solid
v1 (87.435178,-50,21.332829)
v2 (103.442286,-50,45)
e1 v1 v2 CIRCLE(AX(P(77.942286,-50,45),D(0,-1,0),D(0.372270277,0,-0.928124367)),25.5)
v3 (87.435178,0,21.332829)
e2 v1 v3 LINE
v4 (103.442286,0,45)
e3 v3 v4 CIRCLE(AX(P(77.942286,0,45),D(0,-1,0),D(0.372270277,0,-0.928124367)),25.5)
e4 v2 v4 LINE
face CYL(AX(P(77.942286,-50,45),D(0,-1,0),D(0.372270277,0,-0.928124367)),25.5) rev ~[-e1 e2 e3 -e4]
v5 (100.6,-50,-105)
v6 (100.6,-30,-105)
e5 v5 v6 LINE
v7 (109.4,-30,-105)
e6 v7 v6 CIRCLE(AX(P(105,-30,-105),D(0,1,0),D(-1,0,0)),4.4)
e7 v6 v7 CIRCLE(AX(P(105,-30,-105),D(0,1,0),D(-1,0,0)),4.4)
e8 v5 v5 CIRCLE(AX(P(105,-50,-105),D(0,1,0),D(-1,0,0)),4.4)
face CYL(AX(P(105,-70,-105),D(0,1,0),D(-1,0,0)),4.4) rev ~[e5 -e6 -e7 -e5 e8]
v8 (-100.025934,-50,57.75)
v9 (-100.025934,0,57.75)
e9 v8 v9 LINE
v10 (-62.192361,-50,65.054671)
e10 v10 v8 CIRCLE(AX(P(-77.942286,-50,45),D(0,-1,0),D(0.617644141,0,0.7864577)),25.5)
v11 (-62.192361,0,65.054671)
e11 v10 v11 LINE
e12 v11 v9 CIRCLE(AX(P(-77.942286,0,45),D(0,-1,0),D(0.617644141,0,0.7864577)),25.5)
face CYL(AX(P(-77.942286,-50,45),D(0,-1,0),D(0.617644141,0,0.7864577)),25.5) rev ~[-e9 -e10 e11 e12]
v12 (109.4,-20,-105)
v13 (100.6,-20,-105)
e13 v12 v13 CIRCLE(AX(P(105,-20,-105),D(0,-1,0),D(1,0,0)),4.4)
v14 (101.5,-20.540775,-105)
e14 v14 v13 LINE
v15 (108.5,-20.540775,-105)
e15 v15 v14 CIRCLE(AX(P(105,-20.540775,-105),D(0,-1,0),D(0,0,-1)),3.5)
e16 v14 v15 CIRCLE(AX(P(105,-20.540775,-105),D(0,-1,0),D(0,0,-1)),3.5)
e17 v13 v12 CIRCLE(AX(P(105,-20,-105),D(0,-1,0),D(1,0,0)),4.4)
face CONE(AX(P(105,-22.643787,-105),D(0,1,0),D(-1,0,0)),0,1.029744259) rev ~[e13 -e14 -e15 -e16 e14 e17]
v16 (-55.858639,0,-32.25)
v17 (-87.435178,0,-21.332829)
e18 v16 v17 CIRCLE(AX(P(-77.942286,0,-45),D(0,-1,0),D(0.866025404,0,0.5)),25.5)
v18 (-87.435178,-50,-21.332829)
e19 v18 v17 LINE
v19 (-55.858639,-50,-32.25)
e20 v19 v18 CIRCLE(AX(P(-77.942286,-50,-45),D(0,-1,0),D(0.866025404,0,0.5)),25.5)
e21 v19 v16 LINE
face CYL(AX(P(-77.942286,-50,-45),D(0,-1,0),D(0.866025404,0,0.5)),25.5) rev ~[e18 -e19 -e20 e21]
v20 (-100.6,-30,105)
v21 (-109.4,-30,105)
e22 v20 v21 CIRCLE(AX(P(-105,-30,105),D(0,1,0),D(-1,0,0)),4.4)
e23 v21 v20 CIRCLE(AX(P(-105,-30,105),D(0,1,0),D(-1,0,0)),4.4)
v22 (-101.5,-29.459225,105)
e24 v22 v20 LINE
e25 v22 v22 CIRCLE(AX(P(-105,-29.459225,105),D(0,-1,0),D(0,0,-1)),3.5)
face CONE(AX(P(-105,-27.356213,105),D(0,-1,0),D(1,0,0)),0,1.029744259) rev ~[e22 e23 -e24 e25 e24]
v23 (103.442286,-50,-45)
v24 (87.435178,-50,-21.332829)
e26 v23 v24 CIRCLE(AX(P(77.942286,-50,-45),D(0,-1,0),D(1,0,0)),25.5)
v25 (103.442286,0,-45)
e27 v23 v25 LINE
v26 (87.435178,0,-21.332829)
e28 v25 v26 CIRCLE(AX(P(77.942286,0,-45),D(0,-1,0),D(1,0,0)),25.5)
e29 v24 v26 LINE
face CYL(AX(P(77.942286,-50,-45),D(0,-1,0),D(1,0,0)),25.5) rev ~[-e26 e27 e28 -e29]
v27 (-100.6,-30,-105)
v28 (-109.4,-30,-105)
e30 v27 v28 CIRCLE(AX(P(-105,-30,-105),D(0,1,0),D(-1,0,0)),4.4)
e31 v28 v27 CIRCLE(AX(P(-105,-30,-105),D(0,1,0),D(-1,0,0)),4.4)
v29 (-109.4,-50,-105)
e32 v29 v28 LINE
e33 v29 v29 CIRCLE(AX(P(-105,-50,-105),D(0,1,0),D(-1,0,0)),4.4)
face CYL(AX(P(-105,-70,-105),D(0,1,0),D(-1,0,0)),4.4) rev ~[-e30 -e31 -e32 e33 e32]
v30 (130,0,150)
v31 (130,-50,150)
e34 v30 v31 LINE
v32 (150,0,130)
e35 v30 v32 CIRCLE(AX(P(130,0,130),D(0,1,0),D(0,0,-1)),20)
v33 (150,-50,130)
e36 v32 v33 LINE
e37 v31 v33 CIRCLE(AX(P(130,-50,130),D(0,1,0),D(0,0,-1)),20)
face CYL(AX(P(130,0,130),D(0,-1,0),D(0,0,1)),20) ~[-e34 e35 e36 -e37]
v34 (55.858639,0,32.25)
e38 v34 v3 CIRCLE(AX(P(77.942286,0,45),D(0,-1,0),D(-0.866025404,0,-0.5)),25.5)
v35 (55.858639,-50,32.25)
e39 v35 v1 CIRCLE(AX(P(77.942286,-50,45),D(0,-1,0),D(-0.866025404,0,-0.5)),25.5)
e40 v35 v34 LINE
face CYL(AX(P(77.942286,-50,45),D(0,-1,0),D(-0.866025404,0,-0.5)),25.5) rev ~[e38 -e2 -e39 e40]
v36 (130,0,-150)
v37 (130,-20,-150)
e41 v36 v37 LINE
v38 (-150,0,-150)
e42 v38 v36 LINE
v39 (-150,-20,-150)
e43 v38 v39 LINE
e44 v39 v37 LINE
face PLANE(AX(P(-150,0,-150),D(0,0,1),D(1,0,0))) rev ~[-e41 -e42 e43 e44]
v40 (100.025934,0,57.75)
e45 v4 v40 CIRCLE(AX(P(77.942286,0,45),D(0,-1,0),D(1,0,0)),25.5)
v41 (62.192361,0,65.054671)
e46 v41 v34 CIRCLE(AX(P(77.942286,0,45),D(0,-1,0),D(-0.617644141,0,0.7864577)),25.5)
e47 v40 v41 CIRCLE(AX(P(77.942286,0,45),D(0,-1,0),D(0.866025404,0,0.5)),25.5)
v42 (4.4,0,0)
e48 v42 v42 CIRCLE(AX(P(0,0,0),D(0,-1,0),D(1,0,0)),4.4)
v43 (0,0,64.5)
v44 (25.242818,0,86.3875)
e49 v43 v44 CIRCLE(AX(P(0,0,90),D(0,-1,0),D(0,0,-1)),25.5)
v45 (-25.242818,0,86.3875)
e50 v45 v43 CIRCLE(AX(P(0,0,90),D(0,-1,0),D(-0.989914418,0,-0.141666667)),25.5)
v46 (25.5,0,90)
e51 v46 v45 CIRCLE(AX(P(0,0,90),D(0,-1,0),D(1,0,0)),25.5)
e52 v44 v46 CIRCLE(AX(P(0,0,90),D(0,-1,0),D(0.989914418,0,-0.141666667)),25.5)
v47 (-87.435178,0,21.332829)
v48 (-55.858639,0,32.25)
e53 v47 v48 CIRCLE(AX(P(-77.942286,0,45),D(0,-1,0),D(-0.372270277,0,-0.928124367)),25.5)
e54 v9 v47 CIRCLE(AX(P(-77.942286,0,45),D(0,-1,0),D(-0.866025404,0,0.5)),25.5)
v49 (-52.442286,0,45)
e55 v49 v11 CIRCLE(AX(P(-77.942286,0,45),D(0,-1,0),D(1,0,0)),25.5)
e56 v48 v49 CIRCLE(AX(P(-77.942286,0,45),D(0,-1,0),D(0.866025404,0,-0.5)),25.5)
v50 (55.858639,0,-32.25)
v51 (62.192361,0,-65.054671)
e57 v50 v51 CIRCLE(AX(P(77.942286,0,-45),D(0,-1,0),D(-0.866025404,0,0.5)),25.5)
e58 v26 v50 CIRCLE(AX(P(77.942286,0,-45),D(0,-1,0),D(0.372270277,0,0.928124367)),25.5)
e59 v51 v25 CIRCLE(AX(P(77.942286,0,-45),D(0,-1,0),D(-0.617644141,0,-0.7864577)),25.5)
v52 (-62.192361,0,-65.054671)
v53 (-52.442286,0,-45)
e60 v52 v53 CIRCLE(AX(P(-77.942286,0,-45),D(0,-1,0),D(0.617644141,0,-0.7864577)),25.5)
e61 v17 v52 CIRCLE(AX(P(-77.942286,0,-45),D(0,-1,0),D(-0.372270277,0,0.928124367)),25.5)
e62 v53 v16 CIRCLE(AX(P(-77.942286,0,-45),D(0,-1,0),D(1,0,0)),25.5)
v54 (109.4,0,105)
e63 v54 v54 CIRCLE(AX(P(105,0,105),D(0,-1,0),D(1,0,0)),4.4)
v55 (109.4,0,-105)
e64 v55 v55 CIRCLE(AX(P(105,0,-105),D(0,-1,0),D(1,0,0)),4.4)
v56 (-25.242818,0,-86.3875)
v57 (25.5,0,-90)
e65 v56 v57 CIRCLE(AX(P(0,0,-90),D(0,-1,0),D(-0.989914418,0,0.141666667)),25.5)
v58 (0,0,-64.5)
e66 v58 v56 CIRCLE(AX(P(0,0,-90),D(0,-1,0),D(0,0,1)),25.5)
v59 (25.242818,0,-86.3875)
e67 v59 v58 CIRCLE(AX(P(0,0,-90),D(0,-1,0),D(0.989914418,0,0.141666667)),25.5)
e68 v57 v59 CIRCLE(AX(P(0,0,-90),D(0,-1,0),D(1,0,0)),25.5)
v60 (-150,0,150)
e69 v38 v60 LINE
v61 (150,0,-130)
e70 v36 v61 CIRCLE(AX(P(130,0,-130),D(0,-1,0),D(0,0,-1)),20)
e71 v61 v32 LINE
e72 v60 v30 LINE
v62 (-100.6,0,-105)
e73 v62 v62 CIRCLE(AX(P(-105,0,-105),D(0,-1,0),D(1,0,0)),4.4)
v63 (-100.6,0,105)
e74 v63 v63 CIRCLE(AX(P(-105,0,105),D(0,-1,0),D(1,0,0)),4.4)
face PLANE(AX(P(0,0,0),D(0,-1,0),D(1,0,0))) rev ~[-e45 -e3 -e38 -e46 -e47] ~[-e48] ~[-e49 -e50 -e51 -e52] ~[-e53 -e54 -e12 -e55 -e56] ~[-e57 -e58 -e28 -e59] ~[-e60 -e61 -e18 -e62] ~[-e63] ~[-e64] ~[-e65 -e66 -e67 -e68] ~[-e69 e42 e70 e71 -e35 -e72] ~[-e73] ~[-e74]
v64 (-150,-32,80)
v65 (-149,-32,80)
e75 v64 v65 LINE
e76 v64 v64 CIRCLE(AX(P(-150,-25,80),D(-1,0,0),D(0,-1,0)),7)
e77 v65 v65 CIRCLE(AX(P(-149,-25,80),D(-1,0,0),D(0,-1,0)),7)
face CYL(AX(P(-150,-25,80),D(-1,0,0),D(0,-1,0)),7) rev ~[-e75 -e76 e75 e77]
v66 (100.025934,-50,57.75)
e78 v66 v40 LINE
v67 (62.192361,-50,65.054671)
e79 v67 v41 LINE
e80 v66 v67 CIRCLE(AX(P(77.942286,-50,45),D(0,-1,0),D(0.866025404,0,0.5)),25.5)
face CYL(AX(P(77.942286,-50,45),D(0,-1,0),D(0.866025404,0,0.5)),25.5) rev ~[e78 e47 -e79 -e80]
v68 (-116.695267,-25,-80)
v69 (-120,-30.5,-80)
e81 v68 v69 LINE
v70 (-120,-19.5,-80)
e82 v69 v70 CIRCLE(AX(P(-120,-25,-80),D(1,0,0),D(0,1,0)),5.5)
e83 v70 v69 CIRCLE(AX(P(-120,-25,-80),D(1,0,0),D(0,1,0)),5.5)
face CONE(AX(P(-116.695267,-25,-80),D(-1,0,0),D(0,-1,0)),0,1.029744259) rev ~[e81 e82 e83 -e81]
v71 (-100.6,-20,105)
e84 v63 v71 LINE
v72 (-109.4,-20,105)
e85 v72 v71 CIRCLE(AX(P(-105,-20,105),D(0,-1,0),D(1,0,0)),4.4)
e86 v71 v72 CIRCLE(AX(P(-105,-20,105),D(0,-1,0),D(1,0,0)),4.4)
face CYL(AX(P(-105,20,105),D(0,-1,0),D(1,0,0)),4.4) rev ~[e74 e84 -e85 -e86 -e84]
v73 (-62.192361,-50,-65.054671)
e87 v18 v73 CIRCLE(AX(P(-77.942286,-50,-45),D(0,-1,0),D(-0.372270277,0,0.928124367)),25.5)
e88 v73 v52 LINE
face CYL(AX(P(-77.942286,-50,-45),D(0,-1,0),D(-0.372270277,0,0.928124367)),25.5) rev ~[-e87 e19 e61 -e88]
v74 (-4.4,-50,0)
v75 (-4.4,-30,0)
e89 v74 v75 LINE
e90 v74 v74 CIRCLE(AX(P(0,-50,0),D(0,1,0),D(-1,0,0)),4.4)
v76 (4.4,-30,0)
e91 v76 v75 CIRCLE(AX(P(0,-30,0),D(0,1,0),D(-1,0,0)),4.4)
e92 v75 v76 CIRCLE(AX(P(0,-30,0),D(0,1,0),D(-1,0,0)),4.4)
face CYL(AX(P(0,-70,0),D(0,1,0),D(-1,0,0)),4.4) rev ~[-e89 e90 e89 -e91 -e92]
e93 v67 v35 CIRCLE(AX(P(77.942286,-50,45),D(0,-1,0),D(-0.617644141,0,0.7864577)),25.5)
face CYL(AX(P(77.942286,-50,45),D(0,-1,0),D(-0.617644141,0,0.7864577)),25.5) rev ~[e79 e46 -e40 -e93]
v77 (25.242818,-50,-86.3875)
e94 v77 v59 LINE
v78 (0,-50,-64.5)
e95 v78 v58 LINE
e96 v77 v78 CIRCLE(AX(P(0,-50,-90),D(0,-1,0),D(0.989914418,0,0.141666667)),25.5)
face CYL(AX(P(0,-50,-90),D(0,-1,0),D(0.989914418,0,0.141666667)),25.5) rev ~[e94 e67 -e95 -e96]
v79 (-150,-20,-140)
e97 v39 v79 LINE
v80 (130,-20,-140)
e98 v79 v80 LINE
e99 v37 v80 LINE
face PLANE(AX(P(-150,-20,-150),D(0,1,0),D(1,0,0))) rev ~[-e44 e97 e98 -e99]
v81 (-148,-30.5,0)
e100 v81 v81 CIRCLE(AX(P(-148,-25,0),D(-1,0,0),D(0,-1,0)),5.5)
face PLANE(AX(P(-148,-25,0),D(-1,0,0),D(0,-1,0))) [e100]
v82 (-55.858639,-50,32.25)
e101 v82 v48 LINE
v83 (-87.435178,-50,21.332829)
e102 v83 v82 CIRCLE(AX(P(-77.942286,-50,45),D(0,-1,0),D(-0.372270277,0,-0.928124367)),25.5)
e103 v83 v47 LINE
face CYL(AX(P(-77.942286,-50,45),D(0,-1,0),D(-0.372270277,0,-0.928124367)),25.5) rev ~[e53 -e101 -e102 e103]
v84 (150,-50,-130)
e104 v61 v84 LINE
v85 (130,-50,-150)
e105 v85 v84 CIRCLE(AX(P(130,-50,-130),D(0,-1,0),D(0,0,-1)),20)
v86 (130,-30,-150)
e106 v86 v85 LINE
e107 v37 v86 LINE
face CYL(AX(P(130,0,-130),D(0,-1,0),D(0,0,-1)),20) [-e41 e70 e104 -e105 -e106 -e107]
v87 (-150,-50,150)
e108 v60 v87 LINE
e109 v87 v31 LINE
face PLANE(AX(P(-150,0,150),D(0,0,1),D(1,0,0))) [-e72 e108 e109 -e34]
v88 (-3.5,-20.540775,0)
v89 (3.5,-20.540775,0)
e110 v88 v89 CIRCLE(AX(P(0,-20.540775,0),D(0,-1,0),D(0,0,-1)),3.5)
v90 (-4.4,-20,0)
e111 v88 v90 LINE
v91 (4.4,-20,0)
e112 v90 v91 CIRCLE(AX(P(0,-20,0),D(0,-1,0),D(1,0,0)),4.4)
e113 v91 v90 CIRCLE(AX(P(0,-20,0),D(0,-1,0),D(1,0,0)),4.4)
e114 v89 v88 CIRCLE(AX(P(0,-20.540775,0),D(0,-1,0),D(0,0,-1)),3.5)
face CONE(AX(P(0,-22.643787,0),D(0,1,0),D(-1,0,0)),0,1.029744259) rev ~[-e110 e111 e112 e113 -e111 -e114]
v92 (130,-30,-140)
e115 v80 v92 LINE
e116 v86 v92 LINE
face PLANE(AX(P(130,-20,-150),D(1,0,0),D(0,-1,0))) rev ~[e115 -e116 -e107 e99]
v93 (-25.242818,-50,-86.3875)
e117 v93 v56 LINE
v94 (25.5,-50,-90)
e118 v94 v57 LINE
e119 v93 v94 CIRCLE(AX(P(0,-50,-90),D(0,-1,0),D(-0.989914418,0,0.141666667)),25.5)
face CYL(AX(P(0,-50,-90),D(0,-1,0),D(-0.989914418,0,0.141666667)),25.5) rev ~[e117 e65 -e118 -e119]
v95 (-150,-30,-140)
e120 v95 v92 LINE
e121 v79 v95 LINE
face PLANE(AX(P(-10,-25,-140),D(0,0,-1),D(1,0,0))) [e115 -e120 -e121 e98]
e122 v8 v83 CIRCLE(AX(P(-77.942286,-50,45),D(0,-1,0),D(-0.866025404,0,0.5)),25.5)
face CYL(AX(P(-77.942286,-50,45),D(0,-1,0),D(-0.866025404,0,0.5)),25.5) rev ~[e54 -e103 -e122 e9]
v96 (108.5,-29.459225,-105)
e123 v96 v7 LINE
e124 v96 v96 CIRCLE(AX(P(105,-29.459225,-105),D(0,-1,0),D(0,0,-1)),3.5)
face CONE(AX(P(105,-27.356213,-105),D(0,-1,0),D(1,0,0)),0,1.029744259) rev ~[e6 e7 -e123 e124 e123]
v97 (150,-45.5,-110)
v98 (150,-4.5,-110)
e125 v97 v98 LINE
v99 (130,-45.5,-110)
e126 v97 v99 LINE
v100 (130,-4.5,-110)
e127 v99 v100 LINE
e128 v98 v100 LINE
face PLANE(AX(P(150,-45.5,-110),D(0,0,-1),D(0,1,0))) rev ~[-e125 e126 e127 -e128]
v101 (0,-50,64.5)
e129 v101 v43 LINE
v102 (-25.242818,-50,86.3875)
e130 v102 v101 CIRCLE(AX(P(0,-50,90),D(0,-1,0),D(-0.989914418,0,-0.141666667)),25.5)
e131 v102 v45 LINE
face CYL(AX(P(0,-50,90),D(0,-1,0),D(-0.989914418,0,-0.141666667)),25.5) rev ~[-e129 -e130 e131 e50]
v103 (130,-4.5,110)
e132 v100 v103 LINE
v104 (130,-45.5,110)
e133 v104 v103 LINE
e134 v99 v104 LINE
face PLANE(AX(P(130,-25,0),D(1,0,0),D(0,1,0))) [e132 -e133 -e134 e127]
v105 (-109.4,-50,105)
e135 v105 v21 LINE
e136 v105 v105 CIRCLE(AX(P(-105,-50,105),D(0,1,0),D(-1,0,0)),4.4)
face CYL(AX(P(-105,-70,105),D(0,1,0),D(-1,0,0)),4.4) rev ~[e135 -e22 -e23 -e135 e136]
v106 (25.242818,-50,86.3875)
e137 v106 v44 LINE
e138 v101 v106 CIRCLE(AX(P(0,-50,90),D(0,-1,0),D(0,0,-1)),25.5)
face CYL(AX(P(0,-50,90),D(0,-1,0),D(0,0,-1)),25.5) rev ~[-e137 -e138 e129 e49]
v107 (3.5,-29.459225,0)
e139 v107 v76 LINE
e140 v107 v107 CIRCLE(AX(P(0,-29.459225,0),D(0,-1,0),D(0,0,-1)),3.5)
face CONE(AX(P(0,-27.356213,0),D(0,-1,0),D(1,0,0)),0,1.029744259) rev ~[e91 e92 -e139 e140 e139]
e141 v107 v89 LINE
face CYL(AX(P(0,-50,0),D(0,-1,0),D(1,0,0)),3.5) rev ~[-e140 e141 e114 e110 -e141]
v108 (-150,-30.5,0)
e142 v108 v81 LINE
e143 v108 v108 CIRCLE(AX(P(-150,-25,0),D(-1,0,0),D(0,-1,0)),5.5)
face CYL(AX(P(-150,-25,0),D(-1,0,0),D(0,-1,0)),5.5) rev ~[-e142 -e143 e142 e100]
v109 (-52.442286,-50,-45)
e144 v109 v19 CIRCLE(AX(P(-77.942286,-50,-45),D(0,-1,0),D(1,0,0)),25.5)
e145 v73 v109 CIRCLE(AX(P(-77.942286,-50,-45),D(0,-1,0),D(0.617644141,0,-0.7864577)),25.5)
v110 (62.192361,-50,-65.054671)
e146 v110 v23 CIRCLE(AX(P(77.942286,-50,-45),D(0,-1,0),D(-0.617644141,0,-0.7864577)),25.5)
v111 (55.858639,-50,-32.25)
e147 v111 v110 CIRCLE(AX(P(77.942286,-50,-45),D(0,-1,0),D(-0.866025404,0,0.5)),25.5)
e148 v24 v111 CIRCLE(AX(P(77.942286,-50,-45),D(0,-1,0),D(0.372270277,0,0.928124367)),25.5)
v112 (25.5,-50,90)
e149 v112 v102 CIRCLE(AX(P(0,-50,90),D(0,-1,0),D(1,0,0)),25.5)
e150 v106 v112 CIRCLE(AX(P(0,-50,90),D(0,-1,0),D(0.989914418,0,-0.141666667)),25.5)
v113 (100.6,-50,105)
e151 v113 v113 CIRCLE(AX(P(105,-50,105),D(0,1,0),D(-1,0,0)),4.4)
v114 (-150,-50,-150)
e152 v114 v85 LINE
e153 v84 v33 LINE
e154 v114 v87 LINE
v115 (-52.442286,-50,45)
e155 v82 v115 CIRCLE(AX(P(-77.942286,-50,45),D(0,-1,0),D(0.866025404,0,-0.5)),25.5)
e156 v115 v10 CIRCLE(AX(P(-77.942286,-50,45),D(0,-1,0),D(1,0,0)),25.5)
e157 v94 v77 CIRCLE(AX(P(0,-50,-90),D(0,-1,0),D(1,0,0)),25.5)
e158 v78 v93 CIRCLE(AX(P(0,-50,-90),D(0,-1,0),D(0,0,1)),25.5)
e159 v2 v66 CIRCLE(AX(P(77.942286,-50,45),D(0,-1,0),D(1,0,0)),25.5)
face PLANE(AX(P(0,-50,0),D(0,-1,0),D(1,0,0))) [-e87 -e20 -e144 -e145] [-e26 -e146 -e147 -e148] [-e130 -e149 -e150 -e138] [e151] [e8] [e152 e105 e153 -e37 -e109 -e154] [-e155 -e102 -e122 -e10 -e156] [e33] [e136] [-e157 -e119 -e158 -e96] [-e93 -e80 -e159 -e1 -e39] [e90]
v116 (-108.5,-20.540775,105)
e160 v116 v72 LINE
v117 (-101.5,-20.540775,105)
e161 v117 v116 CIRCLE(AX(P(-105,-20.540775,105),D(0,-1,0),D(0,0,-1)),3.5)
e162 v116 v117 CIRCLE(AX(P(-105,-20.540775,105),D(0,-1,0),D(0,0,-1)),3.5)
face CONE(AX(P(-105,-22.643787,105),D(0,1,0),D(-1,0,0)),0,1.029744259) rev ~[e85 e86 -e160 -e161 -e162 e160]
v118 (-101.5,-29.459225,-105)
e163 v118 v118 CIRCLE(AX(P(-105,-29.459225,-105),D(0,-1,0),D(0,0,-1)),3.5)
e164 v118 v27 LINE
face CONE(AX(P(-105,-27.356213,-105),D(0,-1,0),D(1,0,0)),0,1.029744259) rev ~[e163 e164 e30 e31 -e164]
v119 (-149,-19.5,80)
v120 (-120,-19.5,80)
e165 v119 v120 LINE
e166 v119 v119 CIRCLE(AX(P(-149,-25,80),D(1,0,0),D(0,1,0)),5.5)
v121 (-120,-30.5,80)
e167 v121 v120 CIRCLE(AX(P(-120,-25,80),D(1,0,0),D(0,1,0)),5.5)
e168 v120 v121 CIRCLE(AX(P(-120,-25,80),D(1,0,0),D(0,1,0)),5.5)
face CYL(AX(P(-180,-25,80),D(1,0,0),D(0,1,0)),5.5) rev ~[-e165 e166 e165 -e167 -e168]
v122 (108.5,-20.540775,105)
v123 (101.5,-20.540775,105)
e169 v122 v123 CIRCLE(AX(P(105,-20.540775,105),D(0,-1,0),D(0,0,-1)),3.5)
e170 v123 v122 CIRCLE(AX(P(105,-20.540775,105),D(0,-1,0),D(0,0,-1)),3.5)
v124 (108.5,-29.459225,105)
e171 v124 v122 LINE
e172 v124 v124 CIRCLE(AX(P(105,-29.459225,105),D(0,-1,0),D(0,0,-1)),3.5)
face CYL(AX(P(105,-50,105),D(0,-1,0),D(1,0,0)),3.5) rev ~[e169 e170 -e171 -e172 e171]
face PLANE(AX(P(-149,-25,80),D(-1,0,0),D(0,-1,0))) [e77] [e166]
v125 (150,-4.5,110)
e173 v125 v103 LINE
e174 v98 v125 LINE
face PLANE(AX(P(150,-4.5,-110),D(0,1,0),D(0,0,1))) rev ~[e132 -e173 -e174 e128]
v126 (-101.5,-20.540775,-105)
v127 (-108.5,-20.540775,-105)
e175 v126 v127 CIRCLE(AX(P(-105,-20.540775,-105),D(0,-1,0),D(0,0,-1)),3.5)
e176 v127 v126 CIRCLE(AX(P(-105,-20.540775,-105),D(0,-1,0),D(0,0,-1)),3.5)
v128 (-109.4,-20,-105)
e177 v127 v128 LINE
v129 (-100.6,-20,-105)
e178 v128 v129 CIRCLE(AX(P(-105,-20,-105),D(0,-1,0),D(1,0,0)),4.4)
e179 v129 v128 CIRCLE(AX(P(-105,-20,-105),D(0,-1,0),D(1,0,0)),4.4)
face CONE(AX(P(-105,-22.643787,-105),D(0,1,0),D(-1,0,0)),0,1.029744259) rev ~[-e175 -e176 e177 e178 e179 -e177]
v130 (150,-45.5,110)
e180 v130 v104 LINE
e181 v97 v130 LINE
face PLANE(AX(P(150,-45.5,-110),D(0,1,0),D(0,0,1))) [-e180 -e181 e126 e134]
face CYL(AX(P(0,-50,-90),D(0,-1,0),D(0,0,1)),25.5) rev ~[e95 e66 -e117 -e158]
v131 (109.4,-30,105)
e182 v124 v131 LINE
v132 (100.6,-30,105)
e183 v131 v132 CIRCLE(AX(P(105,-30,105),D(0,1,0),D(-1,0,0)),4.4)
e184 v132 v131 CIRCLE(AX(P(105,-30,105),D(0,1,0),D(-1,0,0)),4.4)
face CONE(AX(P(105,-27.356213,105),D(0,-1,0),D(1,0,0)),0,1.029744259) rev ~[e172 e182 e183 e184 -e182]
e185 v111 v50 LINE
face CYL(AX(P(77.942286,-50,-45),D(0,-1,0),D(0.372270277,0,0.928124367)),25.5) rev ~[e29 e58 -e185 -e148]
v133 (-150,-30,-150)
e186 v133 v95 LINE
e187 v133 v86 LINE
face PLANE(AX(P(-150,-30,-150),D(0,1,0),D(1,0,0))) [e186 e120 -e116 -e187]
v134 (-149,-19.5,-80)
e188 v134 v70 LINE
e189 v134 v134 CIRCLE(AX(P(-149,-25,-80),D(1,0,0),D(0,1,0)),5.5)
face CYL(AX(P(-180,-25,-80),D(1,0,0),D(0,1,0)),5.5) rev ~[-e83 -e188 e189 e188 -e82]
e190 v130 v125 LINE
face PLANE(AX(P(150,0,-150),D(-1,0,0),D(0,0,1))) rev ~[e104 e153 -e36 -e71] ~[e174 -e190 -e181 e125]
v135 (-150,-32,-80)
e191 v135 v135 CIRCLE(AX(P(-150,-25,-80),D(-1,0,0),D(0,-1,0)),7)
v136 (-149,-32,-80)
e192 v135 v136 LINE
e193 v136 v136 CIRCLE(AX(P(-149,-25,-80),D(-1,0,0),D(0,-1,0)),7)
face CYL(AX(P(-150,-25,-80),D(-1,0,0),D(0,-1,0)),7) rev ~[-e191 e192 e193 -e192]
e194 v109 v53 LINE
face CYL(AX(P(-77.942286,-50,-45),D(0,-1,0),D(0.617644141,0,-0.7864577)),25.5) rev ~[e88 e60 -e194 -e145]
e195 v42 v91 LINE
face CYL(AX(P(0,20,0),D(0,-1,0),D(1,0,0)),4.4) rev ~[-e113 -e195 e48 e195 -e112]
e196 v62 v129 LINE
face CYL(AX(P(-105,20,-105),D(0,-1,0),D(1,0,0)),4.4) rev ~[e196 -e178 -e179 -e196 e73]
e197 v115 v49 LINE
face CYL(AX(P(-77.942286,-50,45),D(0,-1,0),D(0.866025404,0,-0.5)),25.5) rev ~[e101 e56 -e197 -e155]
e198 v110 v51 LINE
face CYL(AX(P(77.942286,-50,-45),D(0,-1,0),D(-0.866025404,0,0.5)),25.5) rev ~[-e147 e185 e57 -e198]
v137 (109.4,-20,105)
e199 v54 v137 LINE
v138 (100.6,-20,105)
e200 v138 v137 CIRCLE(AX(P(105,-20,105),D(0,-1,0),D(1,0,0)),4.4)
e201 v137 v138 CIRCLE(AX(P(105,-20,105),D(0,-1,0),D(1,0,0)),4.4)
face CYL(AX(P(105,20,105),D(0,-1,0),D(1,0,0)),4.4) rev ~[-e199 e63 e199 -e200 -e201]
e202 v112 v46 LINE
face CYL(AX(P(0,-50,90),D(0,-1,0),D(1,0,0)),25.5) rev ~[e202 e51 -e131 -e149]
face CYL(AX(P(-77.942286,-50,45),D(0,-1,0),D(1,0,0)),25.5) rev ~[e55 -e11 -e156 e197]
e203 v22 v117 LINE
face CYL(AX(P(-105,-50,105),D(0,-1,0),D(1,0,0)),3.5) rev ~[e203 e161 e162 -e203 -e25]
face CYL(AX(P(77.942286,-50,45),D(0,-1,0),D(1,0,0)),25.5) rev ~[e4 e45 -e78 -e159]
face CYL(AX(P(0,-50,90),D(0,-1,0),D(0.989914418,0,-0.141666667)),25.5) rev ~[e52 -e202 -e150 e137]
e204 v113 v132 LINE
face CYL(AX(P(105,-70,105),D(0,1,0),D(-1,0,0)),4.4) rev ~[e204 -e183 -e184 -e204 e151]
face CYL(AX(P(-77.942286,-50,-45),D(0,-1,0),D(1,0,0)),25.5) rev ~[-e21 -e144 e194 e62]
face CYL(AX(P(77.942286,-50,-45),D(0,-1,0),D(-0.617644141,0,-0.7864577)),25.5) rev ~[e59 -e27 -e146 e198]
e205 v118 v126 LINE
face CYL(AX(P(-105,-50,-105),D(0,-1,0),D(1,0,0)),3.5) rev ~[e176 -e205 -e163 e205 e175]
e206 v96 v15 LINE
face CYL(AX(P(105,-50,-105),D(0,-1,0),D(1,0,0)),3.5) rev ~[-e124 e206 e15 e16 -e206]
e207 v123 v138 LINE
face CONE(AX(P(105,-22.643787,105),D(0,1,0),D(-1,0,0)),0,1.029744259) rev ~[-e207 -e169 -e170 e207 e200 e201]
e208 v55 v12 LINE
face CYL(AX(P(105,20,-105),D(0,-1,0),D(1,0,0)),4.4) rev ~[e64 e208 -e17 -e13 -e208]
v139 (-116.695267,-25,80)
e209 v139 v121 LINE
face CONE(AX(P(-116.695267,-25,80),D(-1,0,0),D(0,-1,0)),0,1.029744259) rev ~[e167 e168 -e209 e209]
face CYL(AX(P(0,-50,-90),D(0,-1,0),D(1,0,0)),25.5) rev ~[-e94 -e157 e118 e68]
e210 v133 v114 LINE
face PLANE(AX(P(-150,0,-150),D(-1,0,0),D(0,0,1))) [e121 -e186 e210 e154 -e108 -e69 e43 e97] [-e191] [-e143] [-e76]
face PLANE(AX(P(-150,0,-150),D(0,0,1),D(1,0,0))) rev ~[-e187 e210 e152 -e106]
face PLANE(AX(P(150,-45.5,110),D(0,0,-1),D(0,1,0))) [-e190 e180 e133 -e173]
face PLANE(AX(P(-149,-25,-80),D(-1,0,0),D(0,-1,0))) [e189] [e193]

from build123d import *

# Parameters (mm, degrees)
F0_W      = 300
F0_H      = 300
F1_DEPTH  = 50
F3_DEPTH  = 50
F4_R      = 5.5
F5_DEPTH  = 2
F7_D      = 11
F7_DEPTH  = 30
F7_TIP    = 3.3047334047
F8_W      = 41
F8_H      = 220
F9_DEPTH  = 20
F10_R     = 3.5
F11_DEPTH = 50
F12_R     = 20
F13_W     = 280
F13_H     = 10
F14_DEPTH = 10
F16_D     = 8.8
F16_DEPTH = 20
F16_TIP   = 2.6437867237
F18_D     = 8.8
F18_DEPTH = 20
F18_TIP   = 2.6437867237
F19_R     = 7
F20_DEPTH = 1


with BuildPart() as f1:
    # F0 (on Front) → F1 (new body)
    with BuildSketch(Plane.XZ):
        Rectangle(F0_W, F0_H)
    extrude(amount=F1_DEPTH)

    # F2 (on face) → F3 (cut)
    with BuildSketch(Plane.XZ.offset(50)):
        with BuildLine():
            ThreePointArc((55.8586385441, 32.25), (69.609943325, 20.8997497965), (87.4351784027, 21.3328286376))
            ThreePointArc((87.4351784027, 21.3328286376), (83.5311930437, 33.5043249252), (77.9422863406, 45))
            Line((77.9422863406, 45), (55.8586385441, 32.25))
        make_face()
        with BuildLine():
            ThreePointArc((77.9422863406, 45), (83.5311930437, 33.5043249252), (87.4351784027, 21.3328286376))
            ThreePointArc((87.4351784027, 21.3328286376), (99.0647713694, 30.7139709433), (103.4422863406, 45))
            ThreePointArc((103.4422863406, 45), (102.573394911, 51.5998856501), (100.0259341371, 57.75))
            Line((100.0259341371, 57.75), (77.9422863406, 45))
        make_face()
        with BuildLine():
            Line((55.8586385441, 32.25), (77.9422863406, 45))
            ThreePointArc((77.9422863406, 45), (70.7811930437, 55.5879727217), (62.1923607361, 65.0546713624))
            ThreePointArc((62.1923607361, 65.0546713624), (52.904685919, 49.8341043772), (55.8586385441, 32.25))
        make_face()
        with BuildLine():
            ThreePointArc((62.1923607361, 65.0546713624), (70.7811930437, 55.5879727217), (77.9422863406, 45))
            Line((77.9422863406, 45), (100.0259341371, 57.75))
            ThreePointArc((100.0259341371, 57.75), (82.7763907178, 70.0376004216), (62.1923607361, 65.0546713624))
        make_face()
        with BuildLine():
            ThreePointArc((0, 90), (12.75, 89.0922976469), (25.2428176666, 86.3875))
            ThreePointArc((25.2428176666, 86.3875), (25.4356231543, 88.1891784321), (25.5, 90))
            ThreePointArc((25.5, 90), (-1.8108215679, 115.4356231543), (-25.2428176666, 86.3875))
            ThreePointArc((-25.2428176666, 86.3875), (-12.75, 89.0922976469), (0, 90))
        make_face()
        with BuildLine():
            ThreePointArc((0, 64.5), (16.705257406, 70.7338541737), (25.2428176666, 86.3875))
            ThreePointArc((25.2428176666, 86.3875), (12.75, 89.0922976469), (0, 90))
            Line((0, 90), (0, 64.5))
        make_face()
        with BuildLine():
            ThreePointArc((-25.2428176666, 86.3875), (-16.705257406, 70.7338541737), (0, 64.5))
            Line((0, 64.5), (0, 90))
            ThreePointArc((0, 90), (-12.75, 89.0922976469), (-25.2428176666, 86.3875))
        make_face()
        with BuildLine():
            Line((-77.9422863406, 45), (-55.8586385441, 32.25))
            ThreePointArc((-55.8586385441, 32.25), (-53.3111777702, 38.4001143499), (-52.4422863406, 45))
            ThreePointArc((-52.4422863406, 45), (-55.0089797439, 56.1495940977), (-62.1923607361, 65.0546713624))
            ThreePointArc((-62.1923607361, 65.0546713624), (-70.7811930437, 55.5879727217), (-77.9422863406, 45))
        make_face()
        with BuildLine():
            Line((-100.0259341371, 57.75), (-77.9422863406, 45))
            ThreePointArc((-77.9422863406, 45), (-70.7811930437, 55.5879727217), (-62.1923607361, 65.0546713624))
            ThreePointArc((-62.1923607361, 65.0546713624), (-82.7763907178, 70.0376004216), (-100.0259341371, 57.75))
        make_face()
        with BuildLine():
            ThreePointArc((-87.4351784027, 21.3328286376), (-69.609943325, 20.8997497965), (-55.8586385441, 32.25))
            Line((-55.8586385441, 32.25), (-77.9422863406, 45))
            ThreePointArc((-77.9422863406, 45), (-83.5311930437, 33.5043249252), (-87.4351784027, 21.3328286376))
        make_face()
        with BuildLine():
            ThreePointArc((-87.4351784027, 21.3328286376), (-83.5311930437, 33.5043249252), (-77.9422863406, 45))
            Line((-77.9422863406, 45), (-100.0259341371, 57.75))
            ThreePointArc((-100.0259341371, 57.75), (-102.0425365441, 36.6676569844), (-87.4351784027, 21.3328286376))
        make_face()
        with BuildLine():
            ThreePointArc((-62.1923607361, -65.0546713624), (-70.7811930437, -55.5879727217), (-77.9422863406, -45))
            ThreePointArc((-77.9422863406, -45), (-83.5311930437, -33.5043249252), (-87.4351784027, -21.3328286376))
            ThreePointArc((-87.4351784027, -21.3328286376), (-100.0259341371, -57.75), (-62.1923607361, -65.0546713624))
        make_face()
        with BuildLine():
            Line((-77.9422863406, -45), (-55.8586385441, -32.25))
            ThreePointArc((-55.8586385441, -32.25), (-69.609943325, -20.8997497965), (-87.4351784027, -21.3328286376))
            ThreePointArc((-87.4351784027, -21.3328286376), (-83.5311930437, -33.5043249252), (-77.9422863406, -45))
        make_face()
        with BuildLine():
            ThreePointArc((-52.4422863406, -45), (-53.3111777702, -38.4001143499), (-55.8586385441, -32.25))
            Line((-55.8586385441, -32.25), (-77.9422863406, -45))
            ThreePointArc((-77.9422863406, -45), (-70.7811930437, -55.5879727217), (-62.1923607361, -65.0546713624))
            ThreePointArc((-62.1923607361, -65.0546713624), (-55.0089797439, -56.1495940977), (-52.4422863406, -45))
        make_face()
        with BuildLine():
            ThreePointArc((25.5, -90), (25.4356231543, -88.1891784321), (25.2428176666, -86.3875))
            ThreePointArc((25.2428176666, -86.3875), (12.75, -89.0922976469), (0, -90))
            ThreePointArc((0, -90), (-12.75, -89.0922976469), (-25.2428176666, -86.3875))
            ThreePointArc((-25.2428176666, -86.3875), (-1.8108215679, -115.4356231543), (25.5, -90))
        make_face()
        with BuildLine():
            Line((0, -90), (0, -64.5))
            ThreePointArc((0, -64.5), (-16.705257406, -70.7338541737), (-25.2428176666, -86.3875))
            ThreePointArc((-25.2428176666, -86.3875), (-12.75, -89.0922976469), (0, -90))
        make_face()
        with BuildLine():
            ThreePointArc((25.2428176666, -86.3875), (16.705257406, -70.7338541737), (0, -64.5))
            Line((0, -64.5), (0, -90))
            ThreePointArc((0, -90), (12.75, -89.0922976469), (25.2428176666, -86.3875))
        make_face()
        with BuildLine():
            ThreePointArc((103.4422863406, -45), (99.0647713694, -30.7139709433), (87.4351784027, -21.3328286376))
            ThreePointArc((87.4351784027, -21.3328286376), (83.5311930437, -33.5043249252), (77.9422863406, -45))
            ThreePointArc((77.9422863406, -45), (70.7811930437, -55.5879727217), (62.1923607361, -65.0546713624))
            ThreePointArc((62.1923607361, -65.0546713624), (89.0918804383, -67.9333065967), (103.4422863406, -45))
        make_face()
        with BuildLine():
            ThreePointArc((62.1923607361, -65.0546713624), (70.7811930437, -55.5879727217), (77.9422863406, -45))
            Line((77.9422863406, -45), (55.8586385441, -32.25))
            ThreePointArc((55.8586385441, -32.25), (52.904685919, -49.8341043772), (62.1923607361, -65.0546713624))
        make_face()
        with BuildLine():
            ThreePointArc((77.9422863406, -45), (83.5311930437, -33.5043249252), (87.4351784027, -21.3328286376))
            ThreePointArc((87.4351784027, -21.3328286376), (69.609943325, -20.8997497965), (55.8586385441, -32.25))
            Line((55.8586385441, -32.25), (77.9422863406, -45))
        make_face()
    extrude(amount=-F3_DEPTH, mode=Mode.SUBTRACT)

    # F4 (on face) → F5 (cut)
    with BuildSketch(Plane(origin=(-150, 0, 0), x_dir=(0, -1, 0), z_dir=(-1, 0, 0))):
        with Locations((25, 0)):
            Circle(F4_R)
    extrude(amount=-F5_DEPTH, mode=Mode.SUBTRACT)

    # F7
    with Locations(Plane(origin=(-150, 0, 0), x_dir=(0, -1, 0), z_dir=(-1, 0, 0))):
        with Locations((25, 80), (25, -80)):
            Hole(F7_D / 2, depth=F7_DEPTH)
            with Locations((0, 0, -(F7_DEPTH + F7_TIP / 2))):  # 118° drill point
                Cone(0, F7_D / 2, F7_TIP, mode=Mode.SUBTRACT)

    # F8 (on face) → F9 (cut)
    with BuildSketch(Plane.YZ.offset(150)):
        with Locations((-25, 0)):
            Rectangle(F8_W, F8_H)
    extrude(amount=-F9_DEPTH, mode=Mode.SUBTRACT)

    # F10 (on face) → F11 (cut)
    with BuildSketch(Plane.XZ.offset(50)):
        with Locations((-105, 105)):
            Circle(F10_R)
        with Locations((105, 105)):
            Circle(F10_R)
        with Locations((-105, -105)):
            Circle(F10_R)
        with Locations((105, -105)):
            Circle(F10_R)
        Circle(F10_R)
    extrude(amount=-F11_DEPTH, mode=Mode.SUBTRACT)

    # F12
    f12_edges = [f1.edges().sort_by_distance(p)[0] for p in [
        (150, -25, 150),
        (150, -25, -150),
    ]]
    fillet(f12_edges, radius=F12_R)

    # F13 (on face) → F14 (cut)
    with BuildSketch(Plane(origin=(0, 0, -150), x_dir=(1, 0, 0), z_dir=(0, 0, -1))):
        with Locations((-10, 25)):
            Rectangle(F13_W, F13_H)
    extrude(amount=-F14_DEPTH, mode=Mode.SUBTRACT)

    # F16
    with Locations(Plane.XZ.offset(50)):
        with Locations((-105, 105), (105, 105), (0, 0), (-105, -105), (105, -105)):
            Hole(F16_D / 2, depth=F16_DEPTH)
            with Locations((0, 0, -(F16_DEPTH + F16_TIP / 2))):  # 118° drill point
                Cone(0, F16_D / 2, F16_TIP, mode=Mode.SUBTRACT)

    # F18
    with Locations(Plane(origin=(0, 0, 0), x_dir=(-1, 0, 0), z_dir=(0, 1, 0))):
        with Locations((-105, 105), (105, 105), (0, 0), (-105, -105), (105, -105)):
            Hole(F18_D / 2, depth=F18_DEPTH)
            with Locations((0, 0, -(F18_DEPTH + F18_TIP / 2))):  # 118° drill point
                Cone(0, F18_D / 2, F18_TIP, mode=Mode.SUBTRACT)

    # F19 (on face) → F20 (cut)
    with BuildSketch(Plane(origin=(-150, 0, 0), x_dir=(0, -1, 0), z_dir=(-1, 0, 0))):
        with Locations((25, 80)):
            Circle(F19_R)
        with Locations((25, -80)):
            Circle(F19_R)
    extrude(amount=-F20_DEPTH, mode=Mode.SUBTRACT)


solid = f1.part
